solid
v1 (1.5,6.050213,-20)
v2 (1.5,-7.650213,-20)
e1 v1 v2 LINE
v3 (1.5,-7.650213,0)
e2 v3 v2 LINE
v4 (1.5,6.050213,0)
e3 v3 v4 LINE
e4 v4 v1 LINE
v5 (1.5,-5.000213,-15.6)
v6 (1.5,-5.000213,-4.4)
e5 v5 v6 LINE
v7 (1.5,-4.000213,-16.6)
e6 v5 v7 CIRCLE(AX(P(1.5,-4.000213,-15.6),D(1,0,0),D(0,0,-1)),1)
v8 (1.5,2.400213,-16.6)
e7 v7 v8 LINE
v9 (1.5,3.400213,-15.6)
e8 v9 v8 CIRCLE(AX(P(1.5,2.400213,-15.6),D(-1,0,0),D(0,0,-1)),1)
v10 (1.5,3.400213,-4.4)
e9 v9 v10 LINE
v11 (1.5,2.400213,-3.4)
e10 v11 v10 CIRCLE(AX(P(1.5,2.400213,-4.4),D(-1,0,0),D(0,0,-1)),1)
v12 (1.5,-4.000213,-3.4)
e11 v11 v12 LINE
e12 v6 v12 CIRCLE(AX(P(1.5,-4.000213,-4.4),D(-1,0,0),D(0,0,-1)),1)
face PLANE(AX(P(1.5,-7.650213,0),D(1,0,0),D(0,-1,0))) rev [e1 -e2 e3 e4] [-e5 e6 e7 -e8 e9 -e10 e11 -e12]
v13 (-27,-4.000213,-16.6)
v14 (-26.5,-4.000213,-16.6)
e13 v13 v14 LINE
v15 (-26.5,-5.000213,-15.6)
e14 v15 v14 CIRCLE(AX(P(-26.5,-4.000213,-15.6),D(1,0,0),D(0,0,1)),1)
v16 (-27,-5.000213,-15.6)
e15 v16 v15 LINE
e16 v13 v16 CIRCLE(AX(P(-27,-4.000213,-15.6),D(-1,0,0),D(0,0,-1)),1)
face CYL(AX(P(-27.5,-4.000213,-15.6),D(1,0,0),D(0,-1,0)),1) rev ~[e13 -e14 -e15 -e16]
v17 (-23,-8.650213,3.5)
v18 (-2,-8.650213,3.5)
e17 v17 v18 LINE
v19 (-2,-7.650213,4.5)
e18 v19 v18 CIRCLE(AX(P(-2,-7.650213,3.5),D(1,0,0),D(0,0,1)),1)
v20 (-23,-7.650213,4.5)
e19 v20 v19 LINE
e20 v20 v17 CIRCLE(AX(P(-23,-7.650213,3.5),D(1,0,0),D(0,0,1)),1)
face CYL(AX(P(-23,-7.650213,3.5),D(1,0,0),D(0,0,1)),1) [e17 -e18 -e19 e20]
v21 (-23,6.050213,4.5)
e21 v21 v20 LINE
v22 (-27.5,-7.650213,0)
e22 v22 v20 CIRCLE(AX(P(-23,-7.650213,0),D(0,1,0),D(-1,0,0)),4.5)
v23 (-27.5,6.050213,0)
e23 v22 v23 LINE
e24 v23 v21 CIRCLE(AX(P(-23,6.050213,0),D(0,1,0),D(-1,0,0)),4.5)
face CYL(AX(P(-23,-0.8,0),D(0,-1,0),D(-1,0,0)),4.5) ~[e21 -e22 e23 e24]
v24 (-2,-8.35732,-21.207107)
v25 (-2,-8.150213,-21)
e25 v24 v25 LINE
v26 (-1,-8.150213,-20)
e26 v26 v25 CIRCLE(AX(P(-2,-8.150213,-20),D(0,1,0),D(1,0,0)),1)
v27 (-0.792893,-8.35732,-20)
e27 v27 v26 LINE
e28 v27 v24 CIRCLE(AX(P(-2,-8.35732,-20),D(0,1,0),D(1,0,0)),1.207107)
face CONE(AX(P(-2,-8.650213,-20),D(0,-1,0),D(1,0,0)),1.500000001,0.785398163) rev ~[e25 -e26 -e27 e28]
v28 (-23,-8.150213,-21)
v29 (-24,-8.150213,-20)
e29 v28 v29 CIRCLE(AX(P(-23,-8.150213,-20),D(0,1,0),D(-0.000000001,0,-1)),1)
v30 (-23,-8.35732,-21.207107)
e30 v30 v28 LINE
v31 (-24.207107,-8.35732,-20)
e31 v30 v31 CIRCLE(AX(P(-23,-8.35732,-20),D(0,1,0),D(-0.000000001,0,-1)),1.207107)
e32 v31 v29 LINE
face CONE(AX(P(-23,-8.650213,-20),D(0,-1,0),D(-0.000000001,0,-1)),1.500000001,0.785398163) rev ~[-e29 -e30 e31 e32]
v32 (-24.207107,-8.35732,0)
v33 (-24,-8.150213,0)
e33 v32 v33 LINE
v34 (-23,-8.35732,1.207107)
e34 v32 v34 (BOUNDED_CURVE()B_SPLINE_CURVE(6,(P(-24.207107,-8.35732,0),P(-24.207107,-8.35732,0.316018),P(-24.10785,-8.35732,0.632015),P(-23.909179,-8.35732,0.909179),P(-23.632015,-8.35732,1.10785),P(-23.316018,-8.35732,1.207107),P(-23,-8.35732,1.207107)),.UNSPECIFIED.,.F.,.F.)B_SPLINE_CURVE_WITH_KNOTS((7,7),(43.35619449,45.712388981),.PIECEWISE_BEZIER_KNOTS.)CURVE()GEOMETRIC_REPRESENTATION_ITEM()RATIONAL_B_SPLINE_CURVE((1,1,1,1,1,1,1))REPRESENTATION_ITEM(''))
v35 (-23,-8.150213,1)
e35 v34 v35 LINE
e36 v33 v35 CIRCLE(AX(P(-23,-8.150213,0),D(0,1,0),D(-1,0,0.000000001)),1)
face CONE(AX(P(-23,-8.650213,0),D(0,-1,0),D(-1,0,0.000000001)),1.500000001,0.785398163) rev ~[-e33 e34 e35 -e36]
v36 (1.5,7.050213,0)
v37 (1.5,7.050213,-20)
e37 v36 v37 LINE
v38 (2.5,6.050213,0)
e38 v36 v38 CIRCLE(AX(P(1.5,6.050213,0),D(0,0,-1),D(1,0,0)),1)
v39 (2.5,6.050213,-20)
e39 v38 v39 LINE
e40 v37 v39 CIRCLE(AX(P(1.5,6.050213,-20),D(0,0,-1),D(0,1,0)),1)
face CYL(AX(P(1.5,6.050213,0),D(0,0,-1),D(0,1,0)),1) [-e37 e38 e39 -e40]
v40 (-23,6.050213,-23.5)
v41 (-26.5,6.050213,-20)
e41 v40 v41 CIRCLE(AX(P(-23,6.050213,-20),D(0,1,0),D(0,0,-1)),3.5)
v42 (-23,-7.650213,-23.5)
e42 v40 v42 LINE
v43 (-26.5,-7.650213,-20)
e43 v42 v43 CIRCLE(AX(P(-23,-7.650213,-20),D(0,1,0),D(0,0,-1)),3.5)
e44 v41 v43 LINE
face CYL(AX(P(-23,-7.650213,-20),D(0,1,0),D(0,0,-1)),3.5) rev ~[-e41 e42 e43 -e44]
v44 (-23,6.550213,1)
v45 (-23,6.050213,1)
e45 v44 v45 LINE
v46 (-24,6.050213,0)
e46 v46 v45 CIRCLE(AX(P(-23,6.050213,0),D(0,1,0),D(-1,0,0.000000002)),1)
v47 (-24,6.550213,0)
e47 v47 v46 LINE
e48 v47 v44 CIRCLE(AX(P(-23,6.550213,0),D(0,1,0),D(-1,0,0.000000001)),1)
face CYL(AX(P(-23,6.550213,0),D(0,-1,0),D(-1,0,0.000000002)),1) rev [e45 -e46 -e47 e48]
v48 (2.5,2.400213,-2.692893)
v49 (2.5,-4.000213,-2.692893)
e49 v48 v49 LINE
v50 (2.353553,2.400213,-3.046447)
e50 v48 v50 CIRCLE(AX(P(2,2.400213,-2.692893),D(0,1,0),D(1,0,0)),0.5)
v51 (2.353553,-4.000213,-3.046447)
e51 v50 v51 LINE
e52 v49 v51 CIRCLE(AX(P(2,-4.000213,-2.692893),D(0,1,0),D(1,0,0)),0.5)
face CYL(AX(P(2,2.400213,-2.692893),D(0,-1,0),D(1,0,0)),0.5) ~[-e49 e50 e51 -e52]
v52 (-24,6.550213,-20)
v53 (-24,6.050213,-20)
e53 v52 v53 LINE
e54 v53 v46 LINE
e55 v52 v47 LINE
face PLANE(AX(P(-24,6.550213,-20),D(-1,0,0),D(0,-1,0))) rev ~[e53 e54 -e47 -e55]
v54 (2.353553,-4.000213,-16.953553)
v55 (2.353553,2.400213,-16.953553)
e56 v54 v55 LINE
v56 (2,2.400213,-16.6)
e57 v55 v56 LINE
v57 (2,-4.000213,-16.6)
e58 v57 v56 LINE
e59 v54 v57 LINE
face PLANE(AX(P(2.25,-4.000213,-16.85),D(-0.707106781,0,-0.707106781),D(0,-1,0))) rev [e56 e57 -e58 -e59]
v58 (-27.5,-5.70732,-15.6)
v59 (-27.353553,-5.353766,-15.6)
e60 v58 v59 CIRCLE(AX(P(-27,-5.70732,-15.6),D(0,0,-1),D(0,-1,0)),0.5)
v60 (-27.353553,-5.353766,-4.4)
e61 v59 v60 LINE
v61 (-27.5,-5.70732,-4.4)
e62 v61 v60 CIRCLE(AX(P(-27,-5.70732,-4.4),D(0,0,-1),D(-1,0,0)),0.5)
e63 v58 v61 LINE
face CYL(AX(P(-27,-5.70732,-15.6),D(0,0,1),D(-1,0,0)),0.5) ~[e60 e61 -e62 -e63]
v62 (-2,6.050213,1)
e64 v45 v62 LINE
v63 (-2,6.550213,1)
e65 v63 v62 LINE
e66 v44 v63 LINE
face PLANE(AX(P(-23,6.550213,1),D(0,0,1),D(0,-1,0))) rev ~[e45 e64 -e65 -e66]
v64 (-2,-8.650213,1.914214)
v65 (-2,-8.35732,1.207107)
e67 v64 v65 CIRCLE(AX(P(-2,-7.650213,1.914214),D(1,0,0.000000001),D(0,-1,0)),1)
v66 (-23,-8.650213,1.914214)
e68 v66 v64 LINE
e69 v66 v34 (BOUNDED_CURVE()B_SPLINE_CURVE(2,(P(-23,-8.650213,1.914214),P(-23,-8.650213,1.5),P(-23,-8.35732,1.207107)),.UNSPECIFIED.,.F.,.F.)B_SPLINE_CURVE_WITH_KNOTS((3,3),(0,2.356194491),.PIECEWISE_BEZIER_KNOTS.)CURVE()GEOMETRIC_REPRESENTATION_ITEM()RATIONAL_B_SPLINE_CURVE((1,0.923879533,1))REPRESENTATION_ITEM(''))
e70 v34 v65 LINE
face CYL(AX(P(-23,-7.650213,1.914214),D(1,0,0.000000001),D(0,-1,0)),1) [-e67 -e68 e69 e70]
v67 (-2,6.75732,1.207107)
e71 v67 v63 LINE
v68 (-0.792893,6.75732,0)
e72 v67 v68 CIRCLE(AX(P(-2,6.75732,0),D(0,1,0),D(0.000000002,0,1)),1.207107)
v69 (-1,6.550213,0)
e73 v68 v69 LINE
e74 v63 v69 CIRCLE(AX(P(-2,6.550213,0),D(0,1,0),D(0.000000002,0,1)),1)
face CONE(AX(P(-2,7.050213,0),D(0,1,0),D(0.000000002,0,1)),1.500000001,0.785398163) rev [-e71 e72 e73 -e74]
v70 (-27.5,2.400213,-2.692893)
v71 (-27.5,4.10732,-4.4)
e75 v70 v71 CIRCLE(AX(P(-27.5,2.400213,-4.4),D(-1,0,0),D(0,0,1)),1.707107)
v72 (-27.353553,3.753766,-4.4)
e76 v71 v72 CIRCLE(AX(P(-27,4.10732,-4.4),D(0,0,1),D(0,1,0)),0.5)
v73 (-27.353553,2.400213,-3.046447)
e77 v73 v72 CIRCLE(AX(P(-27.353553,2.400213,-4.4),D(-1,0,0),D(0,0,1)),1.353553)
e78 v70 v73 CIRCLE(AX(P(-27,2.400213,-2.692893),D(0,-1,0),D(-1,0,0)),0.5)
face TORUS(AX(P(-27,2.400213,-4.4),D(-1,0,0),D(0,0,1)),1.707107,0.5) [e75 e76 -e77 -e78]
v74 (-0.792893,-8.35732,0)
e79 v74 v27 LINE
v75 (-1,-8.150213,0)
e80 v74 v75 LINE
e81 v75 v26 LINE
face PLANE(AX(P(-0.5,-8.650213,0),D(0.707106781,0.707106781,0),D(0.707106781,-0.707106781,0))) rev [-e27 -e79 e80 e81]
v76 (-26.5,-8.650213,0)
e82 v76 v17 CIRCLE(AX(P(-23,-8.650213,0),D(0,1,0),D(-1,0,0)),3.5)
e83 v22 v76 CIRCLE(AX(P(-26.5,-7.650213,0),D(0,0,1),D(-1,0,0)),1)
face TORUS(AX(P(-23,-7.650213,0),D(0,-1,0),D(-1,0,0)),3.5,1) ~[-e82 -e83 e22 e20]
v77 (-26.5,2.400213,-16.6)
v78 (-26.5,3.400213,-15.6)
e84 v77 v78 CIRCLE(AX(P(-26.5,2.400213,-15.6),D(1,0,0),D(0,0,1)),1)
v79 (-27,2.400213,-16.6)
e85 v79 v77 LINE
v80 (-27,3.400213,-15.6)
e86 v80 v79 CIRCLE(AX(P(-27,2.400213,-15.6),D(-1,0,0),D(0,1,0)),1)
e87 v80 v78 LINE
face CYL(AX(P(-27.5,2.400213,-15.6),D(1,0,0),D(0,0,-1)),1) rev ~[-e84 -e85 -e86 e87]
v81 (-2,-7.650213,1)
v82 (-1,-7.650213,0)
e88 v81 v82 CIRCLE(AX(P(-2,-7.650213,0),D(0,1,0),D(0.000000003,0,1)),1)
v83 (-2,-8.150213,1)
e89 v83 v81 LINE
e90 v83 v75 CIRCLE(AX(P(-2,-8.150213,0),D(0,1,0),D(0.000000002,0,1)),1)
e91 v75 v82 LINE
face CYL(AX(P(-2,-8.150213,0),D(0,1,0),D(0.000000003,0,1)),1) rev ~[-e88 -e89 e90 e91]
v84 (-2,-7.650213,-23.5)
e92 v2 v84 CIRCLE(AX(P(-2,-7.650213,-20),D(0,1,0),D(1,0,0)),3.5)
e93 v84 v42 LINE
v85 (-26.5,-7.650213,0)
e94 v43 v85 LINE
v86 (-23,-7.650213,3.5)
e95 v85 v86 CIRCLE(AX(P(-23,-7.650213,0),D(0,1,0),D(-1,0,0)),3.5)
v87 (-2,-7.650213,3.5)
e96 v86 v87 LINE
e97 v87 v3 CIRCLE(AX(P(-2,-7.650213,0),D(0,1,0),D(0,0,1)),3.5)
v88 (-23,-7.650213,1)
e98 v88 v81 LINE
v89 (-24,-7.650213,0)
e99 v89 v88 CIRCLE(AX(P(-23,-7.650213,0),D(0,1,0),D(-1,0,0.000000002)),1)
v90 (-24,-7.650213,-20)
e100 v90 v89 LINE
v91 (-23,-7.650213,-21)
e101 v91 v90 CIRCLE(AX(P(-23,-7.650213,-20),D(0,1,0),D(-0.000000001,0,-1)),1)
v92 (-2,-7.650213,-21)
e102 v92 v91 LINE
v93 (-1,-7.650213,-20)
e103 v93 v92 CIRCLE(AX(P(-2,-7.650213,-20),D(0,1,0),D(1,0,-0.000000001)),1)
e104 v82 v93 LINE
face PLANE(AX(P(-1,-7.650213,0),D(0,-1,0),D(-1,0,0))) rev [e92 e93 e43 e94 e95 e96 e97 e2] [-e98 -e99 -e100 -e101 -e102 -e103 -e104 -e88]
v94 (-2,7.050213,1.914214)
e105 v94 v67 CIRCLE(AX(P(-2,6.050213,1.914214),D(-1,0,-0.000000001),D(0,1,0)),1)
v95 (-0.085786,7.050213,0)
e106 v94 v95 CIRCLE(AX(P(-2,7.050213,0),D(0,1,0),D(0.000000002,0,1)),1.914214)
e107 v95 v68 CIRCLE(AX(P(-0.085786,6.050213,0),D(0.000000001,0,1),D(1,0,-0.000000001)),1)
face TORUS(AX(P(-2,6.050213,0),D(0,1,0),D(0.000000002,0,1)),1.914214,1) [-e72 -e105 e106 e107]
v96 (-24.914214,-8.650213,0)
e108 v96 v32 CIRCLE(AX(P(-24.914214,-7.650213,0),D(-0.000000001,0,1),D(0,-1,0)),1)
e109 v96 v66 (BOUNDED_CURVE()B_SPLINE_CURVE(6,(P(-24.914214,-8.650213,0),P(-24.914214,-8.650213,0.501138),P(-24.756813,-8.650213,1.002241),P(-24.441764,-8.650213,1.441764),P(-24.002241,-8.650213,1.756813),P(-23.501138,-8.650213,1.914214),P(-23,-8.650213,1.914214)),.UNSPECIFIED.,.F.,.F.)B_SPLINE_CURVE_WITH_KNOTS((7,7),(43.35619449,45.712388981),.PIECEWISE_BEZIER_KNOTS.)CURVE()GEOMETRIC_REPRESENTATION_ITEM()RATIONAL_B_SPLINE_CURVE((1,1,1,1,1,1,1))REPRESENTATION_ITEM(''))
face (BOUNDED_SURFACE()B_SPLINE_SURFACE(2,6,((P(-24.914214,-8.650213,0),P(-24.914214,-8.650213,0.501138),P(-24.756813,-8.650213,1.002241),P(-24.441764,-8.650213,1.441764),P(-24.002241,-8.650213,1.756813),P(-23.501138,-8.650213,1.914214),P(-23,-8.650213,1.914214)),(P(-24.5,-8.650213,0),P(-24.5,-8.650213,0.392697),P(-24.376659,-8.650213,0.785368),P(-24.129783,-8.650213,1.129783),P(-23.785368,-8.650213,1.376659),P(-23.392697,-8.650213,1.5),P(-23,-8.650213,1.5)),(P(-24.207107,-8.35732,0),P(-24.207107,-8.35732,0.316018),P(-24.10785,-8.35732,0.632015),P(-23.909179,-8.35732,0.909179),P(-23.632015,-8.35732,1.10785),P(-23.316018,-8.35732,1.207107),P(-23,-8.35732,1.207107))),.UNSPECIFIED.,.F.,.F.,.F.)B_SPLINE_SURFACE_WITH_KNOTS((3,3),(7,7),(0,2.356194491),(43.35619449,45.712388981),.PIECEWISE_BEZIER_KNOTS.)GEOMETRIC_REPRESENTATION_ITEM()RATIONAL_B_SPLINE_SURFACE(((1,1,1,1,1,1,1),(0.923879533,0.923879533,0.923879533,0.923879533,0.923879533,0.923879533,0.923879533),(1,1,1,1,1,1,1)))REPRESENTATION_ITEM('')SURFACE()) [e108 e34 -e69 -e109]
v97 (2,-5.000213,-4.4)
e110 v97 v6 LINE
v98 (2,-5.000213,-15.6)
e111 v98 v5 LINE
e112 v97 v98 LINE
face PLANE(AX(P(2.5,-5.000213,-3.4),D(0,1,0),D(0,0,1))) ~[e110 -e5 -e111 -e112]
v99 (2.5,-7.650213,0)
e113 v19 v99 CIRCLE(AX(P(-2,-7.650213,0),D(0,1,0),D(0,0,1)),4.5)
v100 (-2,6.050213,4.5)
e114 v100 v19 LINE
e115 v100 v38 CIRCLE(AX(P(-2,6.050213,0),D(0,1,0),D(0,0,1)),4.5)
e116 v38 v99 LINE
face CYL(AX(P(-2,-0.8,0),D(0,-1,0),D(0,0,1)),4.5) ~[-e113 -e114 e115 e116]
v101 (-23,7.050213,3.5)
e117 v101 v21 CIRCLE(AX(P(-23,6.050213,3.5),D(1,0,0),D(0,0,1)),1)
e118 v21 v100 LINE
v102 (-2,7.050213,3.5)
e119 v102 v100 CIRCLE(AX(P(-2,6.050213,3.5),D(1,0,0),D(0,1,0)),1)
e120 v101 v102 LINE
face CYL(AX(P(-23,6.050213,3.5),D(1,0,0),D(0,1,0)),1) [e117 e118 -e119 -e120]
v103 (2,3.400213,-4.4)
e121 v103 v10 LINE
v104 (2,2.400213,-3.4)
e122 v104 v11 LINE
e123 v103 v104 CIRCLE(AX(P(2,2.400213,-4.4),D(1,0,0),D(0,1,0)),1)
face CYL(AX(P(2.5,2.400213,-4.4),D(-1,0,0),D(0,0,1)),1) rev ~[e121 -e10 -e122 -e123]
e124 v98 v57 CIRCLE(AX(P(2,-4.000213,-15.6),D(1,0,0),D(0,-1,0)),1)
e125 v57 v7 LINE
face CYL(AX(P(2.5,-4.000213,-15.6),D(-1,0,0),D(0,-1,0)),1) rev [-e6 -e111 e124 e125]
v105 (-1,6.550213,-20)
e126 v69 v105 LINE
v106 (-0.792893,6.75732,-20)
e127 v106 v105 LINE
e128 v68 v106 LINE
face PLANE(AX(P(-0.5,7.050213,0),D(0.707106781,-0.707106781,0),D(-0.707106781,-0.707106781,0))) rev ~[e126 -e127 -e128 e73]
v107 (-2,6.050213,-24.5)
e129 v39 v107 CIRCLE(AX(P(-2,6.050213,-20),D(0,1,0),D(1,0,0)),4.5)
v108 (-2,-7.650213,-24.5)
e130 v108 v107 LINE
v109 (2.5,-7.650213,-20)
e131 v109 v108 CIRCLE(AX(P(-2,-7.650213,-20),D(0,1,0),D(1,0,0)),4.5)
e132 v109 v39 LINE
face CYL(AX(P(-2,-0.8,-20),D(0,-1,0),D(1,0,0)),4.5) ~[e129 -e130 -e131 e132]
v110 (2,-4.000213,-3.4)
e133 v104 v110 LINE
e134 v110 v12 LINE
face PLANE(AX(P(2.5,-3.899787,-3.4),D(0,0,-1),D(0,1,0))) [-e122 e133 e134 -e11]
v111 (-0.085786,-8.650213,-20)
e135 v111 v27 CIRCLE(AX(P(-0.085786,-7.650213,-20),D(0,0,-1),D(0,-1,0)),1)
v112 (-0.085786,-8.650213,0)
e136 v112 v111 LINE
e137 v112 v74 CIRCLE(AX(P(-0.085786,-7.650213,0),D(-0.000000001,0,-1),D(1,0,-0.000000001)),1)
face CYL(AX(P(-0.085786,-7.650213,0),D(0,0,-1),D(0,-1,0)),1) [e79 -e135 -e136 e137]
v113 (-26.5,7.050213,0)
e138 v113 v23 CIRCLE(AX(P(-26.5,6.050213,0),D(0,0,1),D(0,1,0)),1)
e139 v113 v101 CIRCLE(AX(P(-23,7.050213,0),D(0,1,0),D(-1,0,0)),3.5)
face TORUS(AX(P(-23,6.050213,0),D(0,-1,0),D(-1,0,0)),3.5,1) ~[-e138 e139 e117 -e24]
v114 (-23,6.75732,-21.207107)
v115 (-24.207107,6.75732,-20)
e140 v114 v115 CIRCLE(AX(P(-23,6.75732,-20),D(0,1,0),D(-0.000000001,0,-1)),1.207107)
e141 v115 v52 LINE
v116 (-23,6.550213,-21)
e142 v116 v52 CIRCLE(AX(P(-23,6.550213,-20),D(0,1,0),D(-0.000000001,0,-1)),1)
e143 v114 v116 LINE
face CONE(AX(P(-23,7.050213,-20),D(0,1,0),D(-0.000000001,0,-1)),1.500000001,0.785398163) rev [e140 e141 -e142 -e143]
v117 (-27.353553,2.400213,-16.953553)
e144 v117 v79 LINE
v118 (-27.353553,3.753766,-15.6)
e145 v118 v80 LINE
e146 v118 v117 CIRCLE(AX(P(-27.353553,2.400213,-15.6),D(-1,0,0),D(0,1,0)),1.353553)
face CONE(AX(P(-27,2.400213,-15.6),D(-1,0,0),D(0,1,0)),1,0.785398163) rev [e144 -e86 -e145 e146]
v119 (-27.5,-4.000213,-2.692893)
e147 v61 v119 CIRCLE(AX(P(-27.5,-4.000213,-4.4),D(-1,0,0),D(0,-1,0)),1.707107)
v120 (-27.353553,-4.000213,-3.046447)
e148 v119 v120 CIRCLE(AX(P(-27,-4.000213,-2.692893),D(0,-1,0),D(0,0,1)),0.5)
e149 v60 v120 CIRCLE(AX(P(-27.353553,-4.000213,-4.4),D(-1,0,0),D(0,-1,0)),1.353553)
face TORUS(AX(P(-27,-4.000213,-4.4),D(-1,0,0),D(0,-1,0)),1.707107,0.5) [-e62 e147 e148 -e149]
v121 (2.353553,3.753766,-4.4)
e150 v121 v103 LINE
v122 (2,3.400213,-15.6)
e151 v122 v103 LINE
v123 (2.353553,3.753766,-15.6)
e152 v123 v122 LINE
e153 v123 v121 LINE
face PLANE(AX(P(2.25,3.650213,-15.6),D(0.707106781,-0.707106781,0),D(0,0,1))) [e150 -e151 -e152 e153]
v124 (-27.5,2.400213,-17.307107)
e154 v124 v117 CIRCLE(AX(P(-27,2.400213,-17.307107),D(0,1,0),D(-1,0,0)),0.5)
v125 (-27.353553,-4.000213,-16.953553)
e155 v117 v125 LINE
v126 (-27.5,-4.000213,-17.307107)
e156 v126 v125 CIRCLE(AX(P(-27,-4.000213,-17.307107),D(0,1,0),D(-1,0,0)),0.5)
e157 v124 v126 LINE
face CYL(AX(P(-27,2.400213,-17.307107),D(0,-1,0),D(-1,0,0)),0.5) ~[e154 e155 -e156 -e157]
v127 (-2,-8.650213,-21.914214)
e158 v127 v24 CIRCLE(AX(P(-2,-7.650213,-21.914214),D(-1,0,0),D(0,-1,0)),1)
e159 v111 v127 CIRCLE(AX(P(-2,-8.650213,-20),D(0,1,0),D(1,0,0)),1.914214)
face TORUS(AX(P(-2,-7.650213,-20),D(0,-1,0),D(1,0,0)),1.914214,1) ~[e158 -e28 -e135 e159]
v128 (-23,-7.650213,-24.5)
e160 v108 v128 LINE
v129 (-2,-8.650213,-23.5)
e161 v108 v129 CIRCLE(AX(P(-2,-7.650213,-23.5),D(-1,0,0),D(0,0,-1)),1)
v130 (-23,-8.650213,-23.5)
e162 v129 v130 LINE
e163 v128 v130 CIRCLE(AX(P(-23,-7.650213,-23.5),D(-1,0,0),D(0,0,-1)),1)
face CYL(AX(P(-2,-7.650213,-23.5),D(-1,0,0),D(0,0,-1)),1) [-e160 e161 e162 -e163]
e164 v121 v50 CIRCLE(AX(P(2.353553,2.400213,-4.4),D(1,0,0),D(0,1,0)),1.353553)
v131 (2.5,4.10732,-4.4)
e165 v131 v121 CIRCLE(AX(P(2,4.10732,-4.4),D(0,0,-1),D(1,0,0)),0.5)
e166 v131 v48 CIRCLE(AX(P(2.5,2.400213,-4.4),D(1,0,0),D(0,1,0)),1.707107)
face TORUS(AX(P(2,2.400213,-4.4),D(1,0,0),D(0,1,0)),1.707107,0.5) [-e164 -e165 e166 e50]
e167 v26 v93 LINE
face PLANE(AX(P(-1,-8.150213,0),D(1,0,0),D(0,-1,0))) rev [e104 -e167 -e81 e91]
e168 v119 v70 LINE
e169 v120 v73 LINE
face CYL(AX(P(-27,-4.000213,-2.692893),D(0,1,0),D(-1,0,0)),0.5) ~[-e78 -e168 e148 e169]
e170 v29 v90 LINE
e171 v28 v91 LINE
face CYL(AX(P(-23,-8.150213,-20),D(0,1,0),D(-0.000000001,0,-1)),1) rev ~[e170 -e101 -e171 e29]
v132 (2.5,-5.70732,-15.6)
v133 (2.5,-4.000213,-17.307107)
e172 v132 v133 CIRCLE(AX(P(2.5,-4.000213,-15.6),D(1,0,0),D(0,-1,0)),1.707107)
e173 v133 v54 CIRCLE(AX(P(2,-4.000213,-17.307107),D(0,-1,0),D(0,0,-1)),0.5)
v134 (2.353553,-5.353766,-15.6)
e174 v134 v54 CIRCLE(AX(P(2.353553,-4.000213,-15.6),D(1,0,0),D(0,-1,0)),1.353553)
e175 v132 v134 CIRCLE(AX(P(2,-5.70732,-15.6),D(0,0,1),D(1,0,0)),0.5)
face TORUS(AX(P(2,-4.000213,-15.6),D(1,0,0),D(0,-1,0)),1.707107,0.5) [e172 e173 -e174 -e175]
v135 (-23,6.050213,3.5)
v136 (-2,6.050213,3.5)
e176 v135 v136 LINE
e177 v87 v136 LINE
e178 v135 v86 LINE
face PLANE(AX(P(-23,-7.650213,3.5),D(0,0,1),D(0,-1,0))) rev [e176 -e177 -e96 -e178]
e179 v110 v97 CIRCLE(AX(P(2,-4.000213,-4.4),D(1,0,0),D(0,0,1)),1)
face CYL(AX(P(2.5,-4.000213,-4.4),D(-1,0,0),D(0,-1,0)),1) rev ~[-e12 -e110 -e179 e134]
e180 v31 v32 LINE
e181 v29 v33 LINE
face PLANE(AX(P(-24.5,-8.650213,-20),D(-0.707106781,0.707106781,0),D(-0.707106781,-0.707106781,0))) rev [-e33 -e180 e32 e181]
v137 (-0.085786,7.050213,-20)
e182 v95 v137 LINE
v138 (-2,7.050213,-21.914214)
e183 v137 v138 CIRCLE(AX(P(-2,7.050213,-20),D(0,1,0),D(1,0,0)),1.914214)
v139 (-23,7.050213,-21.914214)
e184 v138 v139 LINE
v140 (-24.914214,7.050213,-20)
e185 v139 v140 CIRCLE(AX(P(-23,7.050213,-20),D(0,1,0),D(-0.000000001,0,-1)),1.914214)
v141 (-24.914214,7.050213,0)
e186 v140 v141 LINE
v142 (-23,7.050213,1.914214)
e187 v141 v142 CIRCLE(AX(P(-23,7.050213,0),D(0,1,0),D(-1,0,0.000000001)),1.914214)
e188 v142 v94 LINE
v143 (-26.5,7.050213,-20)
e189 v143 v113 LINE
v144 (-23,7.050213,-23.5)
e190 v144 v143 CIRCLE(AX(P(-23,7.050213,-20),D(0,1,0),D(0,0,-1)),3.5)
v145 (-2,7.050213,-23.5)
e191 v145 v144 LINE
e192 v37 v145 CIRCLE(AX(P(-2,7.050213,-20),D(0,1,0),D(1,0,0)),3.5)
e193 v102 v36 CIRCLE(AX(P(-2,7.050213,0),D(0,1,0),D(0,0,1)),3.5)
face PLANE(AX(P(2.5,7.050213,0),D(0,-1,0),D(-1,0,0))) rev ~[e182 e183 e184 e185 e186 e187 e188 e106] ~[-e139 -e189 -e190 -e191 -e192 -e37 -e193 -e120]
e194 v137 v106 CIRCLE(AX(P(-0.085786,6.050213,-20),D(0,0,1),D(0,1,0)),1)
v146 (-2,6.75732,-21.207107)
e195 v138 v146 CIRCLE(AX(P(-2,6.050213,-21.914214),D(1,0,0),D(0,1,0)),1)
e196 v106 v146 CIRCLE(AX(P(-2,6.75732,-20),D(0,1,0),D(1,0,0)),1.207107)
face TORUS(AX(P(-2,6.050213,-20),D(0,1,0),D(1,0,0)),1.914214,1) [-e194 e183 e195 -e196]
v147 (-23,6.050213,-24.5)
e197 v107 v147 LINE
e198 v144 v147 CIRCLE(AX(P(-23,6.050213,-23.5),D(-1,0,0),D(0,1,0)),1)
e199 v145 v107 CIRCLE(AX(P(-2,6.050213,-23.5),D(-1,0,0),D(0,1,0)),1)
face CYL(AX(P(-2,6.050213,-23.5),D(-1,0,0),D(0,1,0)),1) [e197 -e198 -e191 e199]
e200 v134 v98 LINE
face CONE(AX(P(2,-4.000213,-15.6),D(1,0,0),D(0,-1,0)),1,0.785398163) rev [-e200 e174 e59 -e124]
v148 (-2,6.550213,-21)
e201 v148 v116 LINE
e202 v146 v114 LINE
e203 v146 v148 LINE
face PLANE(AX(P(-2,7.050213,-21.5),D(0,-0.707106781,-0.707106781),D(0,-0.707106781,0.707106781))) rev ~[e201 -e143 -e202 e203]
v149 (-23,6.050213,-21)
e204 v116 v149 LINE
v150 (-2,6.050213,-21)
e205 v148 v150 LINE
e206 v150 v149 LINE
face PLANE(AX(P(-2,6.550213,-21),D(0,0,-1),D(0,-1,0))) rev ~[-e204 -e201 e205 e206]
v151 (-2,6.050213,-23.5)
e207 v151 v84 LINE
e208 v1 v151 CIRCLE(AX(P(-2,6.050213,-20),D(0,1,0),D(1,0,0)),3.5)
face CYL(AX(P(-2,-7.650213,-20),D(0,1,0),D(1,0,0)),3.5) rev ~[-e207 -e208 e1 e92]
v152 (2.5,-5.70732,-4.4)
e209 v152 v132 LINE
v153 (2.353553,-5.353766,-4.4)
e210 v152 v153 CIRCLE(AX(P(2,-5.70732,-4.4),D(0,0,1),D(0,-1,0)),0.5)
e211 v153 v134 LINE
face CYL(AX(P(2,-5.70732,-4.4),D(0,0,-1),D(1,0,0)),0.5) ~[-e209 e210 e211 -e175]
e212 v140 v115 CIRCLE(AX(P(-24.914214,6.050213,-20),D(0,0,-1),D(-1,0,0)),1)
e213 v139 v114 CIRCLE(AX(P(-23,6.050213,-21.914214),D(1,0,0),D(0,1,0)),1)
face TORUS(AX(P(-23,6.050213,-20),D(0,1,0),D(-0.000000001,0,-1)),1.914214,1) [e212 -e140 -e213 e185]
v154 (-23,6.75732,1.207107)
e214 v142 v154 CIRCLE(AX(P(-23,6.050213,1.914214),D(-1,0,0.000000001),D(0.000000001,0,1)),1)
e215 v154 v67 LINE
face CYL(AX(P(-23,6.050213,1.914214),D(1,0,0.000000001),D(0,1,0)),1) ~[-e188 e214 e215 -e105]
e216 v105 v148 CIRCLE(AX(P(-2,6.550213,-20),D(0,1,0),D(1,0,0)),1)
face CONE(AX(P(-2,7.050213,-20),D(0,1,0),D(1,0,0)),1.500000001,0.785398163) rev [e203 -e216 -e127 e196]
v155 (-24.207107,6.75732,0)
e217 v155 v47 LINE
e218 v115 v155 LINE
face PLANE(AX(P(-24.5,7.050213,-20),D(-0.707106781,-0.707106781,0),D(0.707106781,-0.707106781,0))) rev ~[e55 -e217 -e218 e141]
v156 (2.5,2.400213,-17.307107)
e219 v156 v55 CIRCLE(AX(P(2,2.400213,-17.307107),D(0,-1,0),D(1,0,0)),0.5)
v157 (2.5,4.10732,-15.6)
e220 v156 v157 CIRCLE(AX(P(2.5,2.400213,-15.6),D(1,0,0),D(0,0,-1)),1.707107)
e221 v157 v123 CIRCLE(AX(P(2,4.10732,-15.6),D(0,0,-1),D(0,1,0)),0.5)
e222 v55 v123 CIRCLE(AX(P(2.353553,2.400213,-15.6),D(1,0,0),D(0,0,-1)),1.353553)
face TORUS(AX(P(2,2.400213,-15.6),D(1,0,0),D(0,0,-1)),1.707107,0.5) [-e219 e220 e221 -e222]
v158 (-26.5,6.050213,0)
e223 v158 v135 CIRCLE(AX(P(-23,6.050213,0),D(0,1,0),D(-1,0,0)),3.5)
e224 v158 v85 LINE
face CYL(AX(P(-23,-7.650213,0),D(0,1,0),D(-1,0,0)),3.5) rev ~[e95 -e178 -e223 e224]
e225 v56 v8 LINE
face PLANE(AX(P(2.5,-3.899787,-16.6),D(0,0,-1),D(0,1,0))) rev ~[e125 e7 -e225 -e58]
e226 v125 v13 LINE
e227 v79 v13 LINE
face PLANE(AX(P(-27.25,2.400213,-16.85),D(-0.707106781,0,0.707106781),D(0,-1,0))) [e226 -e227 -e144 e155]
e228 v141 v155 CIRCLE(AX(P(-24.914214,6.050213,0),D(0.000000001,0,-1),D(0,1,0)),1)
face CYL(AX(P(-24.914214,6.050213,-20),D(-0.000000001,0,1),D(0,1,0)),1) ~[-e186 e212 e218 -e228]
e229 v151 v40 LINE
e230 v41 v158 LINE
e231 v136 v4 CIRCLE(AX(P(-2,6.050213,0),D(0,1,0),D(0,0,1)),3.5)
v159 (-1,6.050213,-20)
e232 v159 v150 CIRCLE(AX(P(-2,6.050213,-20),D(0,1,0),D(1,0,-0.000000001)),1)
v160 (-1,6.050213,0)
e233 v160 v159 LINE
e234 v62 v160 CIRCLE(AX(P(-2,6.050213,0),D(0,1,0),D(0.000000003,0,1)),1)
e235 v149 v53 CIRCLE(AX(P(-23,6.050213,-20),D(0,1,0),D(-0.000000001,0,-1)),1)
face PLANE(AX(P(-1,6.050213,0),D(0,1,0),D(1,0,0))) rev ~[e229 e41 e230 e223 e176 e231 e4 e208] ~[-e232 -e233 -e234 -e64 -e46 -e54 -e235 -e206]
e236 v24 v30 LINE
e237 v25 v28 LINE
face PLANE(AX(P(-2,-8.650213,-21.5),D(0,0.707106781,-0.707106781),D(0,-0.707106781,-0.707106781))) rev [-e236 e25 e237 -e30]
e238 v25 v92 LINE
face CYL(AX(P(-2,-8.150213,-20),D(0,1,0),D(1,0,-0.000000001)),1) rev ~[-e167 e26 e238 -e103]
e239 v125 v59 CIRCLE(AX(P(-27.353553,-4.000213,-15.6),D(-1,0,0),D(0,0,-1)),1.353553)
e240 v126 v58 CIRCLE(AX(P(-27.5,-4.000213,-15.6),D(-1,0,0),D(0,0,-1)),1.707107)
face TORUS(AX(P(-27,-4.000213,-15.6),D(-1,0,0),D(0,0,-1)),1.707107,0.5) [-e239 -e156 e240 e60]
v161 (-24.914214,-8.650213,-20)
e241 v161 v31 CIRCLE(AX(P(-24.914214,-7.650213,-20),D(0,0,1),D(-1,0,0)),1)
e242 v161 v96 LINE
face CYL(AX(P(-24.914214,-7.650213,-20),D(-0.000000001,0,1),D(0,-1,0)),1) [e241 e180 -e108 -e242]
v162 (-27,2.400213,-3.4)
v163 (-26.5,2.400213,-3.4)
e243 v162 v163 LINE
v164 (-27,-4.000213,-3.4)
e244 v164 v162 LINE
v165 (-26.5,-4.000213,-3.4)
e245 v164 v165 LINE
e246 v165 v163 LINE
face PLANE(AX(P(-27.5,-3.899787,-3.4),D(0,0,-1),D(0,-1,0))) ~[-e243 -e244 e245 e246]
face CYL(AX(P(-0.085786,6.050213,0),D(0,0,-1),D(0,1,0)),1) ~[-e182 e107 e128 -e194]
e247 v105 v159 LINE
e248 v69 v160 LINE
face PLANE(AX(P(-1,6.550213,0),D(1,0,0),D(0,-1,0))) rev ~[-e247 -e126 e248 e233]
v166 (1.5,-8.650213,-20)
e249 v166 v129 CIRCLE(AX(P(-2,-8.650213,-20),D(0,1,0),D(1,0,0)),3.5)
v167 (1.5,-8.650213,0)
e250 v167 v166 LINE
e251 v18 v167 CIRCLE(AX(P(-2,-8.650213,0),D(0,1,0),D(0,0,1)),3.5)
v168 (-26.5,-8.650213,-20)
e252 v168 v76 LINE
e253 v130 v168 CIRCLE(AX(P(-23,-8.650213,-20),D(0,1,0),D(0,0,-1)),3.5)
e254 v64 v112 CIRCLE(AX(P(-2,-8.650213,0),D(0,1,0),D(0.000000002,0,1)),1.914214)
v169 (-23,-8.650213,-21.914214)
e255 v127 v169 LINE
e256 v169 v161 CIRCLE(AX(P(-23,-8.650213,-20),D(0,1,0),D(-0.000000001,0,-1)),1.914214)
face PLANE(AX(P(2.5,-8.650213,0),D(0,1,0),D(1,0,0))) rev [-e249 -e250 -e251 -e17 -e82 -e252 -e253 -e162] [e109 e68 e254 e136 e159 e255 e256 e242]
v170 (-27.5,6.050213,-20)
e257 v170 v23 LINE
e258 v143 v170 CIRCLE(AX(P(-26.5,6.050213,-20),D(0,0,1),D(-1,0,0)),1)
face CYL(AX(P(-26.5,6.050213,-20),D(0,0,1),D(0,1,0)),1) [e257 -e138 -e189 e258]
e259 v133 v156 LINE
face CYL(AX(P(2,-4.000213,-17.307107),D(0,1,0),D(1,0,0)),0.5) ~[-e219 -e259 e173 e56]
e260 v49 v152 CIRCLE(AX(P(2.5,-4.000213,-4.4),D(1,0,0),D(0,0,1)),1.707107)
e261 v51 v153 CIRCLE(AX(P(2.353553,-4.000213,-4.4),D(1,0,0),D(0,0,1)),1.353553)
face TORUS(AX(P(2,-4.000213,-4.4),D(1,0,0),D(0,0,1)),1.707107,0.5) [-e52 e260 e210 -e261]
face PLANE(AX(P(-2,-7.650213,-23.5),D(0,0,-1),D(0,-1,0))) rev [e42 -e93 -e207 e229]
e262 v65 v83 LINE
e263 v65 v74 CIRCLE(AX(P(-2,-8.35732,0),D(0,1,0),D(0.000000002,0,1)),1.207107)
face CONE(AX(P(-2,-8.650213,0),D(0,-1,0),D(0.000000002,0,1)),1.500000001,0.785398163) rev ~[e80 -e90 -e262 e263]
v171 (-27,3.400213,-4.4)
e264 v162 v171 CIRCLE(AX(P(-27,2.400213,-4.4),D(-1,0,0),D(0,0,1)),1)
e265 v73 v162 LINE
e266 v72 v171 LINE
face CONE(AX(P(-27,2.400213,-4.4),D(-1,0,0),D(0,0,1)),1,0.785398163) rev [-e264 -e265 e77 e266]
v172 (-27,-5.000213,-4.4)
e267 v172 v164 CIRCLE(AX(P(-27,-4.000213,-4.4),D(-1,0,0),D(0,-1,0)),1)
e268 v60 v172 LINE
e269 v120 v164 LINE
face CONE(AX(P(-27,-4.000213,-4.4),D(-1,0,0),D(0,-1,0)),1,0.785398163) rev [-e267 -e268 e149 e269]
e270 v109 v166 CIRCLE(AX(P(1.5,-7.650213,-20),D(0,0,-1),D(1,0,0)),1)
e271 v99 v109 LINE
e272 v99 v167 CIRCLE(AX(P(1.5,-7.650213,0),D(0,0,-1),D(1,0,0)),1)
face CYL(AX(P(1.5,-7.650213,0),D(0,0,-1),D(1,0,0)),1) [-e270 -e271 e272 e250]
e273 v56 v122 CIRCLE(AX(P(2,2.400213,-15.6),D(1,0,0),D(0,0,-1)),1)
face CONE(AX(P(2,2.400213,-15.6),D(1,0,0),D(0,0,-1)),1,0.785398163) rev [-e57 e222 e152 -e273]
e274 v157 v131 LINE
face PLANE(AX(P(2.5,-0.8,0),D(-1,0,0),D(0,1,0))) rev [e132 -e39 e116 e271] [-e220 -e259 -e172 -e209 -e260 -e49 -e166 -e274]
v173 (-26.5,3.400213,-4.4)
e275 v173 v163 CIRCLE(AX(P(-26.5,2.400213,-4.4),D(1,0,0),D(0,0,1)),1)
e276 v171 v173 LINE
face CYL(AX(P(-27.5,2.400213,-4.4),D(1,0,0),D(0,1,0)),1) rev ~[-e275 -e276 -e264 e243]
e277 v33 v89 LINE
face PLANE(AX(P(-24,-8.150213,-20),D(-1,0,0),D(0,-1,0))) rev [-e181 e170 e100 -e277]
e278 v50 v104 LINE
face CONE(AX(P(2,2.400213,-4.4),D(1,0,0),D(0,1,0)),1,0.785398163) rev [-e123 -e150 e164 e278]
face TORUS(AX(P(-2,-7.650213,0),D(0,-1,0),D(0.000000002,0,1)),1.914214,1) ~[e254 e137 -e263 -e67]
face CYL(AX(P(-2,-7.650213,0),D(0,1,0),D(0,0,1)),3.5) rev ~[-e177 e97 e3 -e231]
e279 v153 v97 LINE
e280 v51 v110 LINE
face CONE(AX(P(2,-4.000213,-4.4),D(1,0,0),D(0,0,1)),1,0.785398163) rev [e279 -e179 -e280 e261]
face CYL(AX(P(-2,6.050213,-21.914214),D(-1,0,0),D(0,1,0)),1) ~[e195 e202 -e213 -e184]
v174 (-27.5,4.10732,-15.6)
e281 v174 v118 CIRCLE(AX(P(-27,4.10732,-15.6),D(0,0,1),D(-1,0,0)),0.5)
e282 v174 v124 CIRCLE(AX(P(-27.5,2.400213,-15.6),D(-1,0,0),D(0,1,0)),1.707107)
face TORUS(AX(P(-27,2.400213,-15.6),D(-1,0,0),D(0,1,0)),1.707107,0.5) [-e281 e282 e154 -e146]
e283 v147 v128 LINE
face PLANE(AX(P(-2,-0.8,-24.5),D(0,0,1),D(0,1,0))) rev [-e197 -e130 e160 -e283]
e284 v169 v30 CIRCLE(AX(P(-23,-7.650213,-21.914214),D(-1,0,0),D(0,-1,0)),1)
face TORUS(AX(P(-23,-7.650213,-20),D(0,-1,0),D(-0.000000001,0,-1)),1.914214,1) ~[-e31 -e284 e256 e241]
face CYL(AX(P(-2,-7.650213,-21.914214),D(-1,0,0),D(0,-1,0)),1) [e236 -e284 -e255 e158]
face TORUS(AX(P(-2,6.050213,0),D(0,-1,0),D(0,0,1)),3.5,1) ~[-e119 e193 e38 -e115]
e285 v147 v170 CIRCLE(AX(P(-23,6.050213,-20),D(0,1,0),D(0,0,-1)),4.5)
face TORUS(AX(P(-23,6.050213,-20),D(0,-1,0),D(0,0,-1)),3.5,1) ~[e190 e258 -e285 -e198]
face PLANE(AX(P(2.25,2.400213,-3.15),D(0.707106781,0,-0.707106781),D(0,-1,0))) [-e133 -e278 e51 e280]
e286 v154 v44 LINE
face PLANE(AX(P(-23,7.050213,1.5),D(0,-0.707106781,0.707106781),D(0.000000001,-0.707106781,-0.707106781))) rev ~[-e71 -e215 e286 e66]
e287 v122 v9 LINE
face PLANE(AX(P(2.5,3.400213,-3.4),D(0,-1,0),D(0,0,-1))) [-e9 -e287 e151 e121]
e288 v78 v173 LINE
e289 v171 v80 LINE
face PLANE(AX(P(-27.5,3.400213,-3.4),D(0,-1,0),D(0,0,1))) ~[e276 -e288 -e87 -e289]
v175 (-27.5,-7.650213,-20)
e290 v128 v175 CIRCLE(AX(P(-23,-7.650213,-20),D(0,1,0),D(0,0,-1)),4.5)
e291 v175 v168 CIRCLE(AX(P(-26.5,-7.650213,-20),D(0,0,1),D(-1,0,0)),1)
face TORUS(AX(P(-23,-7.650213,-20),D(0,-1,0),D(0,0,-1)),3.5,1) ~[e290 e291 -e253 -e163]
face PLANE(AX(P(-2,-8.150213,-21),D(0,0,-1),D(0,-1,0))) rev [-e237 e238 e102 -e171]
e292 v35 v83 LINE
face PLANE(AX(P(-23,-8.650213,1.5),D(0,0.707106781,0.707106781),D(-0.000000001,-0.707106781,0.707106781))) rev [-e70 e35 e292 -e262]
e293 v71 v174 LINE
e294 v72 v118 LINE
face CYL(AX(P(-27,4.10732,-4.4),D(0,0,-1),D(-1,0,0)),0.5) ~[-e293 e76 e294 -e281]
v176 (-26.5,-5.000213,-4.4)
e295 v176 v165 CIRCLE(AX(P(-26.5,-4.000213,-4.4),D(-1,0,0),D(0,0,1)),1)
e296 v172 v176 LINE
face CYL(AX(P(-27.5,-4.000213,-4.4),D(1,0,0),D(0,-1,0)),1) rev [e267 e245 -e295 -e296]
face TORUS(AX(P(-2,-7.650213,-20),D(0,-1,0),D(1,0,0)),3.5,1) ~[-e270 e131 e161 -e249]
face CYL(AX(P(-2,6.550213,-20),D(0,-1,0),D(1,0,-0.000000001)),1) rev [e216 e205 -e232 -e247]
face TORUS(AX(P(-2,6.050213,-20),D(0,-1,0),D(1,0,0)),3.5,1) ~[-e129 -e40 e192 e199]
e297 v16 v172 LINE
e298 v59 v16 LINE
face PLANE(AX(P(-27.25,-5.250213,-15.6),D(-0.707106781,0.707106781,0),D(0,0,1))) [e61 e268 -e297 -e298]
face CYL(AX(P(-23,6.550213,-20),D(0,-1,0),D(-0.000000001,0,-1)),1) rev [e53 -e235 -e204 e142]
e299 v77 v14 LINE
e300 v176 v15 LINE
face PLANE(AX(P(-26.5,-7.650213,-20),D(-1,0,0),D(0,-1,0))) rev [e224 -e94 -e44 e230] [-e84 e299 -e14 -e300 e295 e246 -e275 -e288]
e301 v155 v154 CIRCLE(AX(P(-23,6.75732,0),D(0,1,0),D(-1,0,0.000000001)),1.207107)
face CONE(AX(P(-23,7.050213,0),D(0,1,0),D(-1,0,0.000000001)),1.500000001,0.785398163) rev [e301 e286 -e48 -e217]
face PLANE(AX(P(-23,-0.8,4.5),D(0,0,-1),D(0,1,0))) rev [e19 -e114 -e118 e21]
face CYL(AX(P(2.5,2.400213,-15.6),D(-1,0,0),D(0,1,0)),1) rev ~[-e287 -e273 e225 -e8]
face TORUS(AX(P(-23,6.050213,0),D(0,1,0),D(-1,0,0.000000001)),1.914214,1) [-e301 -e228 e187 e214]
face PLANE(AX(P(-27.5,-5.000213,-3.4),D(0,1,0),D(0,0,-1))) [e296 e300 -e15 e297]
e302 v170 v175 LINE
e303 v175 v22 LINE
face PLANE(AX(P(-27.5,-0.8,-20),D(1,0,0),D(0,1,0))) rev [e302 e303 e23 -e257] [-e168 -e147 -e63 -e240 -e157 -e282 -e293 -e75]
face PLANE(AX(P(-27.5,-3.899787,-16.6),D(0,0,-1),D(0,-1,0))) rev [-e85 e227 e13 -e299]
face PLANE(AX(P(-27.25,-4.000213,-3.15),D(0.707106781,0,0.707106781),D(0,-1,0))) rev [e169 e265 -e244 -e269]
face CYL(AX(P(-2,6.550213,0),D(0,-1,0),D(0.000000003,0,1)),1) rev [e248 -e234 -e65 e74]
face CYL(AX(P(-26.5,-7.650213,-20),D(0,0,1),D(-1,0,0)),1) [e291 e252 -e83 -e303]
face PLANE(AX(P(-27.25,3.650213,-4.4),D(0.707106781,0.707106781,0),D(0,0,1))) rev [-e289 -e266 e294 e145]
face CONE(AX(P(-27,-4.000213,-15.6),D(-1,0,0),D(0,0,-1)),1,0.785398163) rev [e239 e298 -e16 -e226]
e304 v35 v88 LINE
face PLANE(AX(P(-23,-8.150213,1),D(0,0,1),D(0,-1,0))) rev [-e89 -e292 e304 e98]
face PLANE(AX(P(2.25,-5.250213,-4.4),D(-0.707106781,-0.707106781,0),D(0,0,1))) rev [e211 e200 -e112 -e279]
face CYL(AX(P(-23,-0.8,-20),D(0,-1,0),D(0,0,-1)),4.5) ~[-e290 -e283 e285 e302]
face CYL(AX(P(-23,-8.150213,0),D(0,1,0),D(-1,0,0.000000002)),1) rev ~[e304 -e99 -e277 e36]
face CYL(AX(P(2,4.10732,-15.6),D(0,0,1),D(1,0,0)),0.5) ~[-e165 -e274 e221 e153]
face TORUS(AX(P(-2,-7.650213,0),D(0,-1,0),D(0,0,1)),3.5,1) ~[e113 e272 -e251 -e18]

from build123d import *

# Parameters (mm, degrees)
FILLET6_TOP_FACE_R                     = 1
CUT_EXTRUDE1_SIDE_APERTURE_REACH       = 41.369
SKETCH3_W                              = 13.2
SKETCH3_H                              = 7.3
MIRROR11_COPY_1_REACH                  = 41.369
MIRROR11_COPY_1_SKETCH_W               = 13.2
MIRROR11_COPY_1_SKETCH_H               = 7.3
FILLET6_TOP_FACE_OF_MIRROR11_R         = 1
FILLET4_SIDE_APERTURE_INSIDE_CORNERS_R = 1
CHAMFER1_SIDE_APERTURE_SIZE            = 0.5
FILLET5_SIDE_APERTURE_R                = 0.5


with BuildPart() as part:
    # Sweep1: sweep along a path in Sketch2
    with BuildLine(Plane(origin=(0, 5.050213041, 0), x_dir=(1, 0, 0), z_dir=(0, 1, 0))) as sweep1_path:
        Line((1.5, 0), (1.5, 20))
        ThreePointArc((1.5, 20), (0.474873734, 22.474873734), (-2, 23.5))
        Line((-2, 23.5), (-23, 23.5))
        ThreePointArc((-23, 23.5), (-25.474873734, 22.474873734), (-26.5, 20))
        Line((-26.5, 20), (-26.5, 0))
        ThreePointArc((-26.5, 0), (-25.474873734, -2.474873734), (-23, -3.5))
        Line((-23, -3.5), (-2, -3.5))
        ThreePointArc((-2, -3.5), (0.474873734, -2.474873734), (1.5, 0))
    # Sketch1 → Sweep1 (sweep)
    with BuildSketch(Plane.XY):
        Polygon((1.5, 6.050213041), (1.5, -0.8), (2.5, -0.8), (2.5, 7.050213041), (-0.5, 7.050213041), (-1, 6.550213041), (-1, 6.050213041), align=None)
    sweep1 = sweep(path=sweep1_path.line)

    # Fillet6 (top face)
    fillet6_top_face_edges = [part.edges().sort_by_distance(p)[0] for p in [
        (-12.5, 7.050213041, -24.5),
        (-12.5, 7.050213041, -21.5),
        (-26.181980515, 7.050213041, -23.181980515),
        (-24.060660172, 7.050213041, -21.060660172),
        (-27.5, 7.050213041, -10),
        (-24.5, 7.050213041, -10),
        (-26.181980515, 7.050213041, 3.181980515),
        (-24.060660172, 7.050213041, 1.060660172),
        (-12.5, 7.050213041, 4.5),
        (-12.5, 7.050213041, 1.5),
        (1.181980515, 7.050213041, 3.181980515),
        (-0.939339828, 7.050213041, 1.060660172),
        (2.5, 7.050213041, -10),
        (-0.5, 7.050213041, -10),
        (1.181980515, 7.050213041, -23.181980515),
        (-0.939339828, 7.050213041, -21.060660172),
    ]]
    fillet(fillet6_top_face_edges, radius=FILLET6_TOP_FACE_R)

    # Sketch3 → Cut-Extrude1 (side aperture) (cut, up to next)
    with BuildSketch(Plane(origin=(2.5, 0, 0), x_dir=(0, 0, -1), z_dir=(1, 0, 0)), mode=Mode.PRIVATE) as cut_extrude1_side_aperture_sk1:
        with Locations((10, -0.249786959)):
            Rectangle(SKETCH3_W, SKETCH3_H)
    cut_extrude1_side_aperture_tool1 = extrude(cut_extrude1_side_aperture_sk1.sketch, amount=-CUT_EXTRUDE1_SIDE_APERTURE_REACH, mode=Mode.PRIVATE) & part.part
    cut_extrude1_side_aperture = cut_extrude1_side_aperture_tool1.solids().sort_by_distance((2.5, -0.249787, -10))[0]
    add(cut_extrude1_side_aperture, mode=Mode.SUBTRACT)

    # Mirror6: Cut-Extrude1 (side aperture) across plane
    add(cut_extrude1_side_aperture.mirror(Plane.ZY.offset(12.5)), mode=Mode.SUBTRACT)

    # Mirror11: Sweep1, Cut-Extrude1 (side aperture) across plane
    add(sweep1.mirror(Plane.ZX.offset(-0.8)))
    add(cut_extrude1_side_aperture.mirror(Plane.ZX.offset(-0.8)), mode=Mode.SUBTRACT)

    # Mirror11 copy 1 sketch → Mirror11 copy 1 (cut, up to next)
    with BuildSketch(Plane(origin=(-27.5, -1.6, 0), x_dir=(0, 0, -1), z_dir=(-1, 0, 0)), mode=Mode.PRIVATE) as mirror11_copy_1_sk1:
        with Locations((10, -0.249786959)):
            Rectangle(MIRROR11_COPY_1_SKETCH_W, MIRROR11_COPY_1_SKETCH_H)
    mirror11_copy_1_tool1 = extrude(mirror11_copy_1_sk1.sketch, amount=-MIRROR11_COPY_1_REACH, mode=Mode.PRIVATE) & part.part
    add(mirror11_copy_1_tool1.solids().sort_by_distance((-27.5, -1.350213, -10))[0], mode=Mode.SUBTRACT)

    # Fillet6 (top face) of Mirror11
    fillet6_top_face_of_mirror11_edges = [part.edges().sort_by_distance(p)[0] for p in [
        (-12.5, -8.650213041, -24.5),
        (-12.5, -8.650213041, -21.5),
        (-26.181980515, -8.650213041, -23.181980515),
        (-24.060660172, -8.650213041, -21.060660172),
        (-27.5, -8.650213041, -10),
        (-24.5, -8.650213041, -10),
        (-26.181980515, -8.650213041, 3.181980515),
        (-24.060660172, -8.650213041, 1.060660172),
        (-12.5, -8.650213041, 4.5),
        (-12.5, -8.650213041, 1.5),
        (1.181980515, -8.650213041, 3.181980515),
        (-0.939339828, -8.650213041, 1.060660172),
        (2.5, -8.650213041, -10),
        (-0.5, -8.650213041, -10),
        (1.181980515, -8.650213041, -23.181980515),
        (-0.939339828, -8.650213041, -21.060660172),
    ]]
    fillet(fillet6_top_face_of_mirror11_edges, radius=FILLET6_TOP_FACE_OF_MIRROR11_R)

    # Fillet4 (side aperture inside corners)
    fillet4_side_aperture_inside_corners_edges = [part.edges().sort_by_distance(p)[0] for p in [
        (2, 3.400213041, -16.6),
        (2, 3.400213041, -3.4),
        (-27, 3.400213041, -16.6),
        (-27, 3.400213041, -3.4),
        (2, -5.000213041, -3.4),
        (2, -5.000213041, -16.6),
        (-27, -5.000213041, -3.4),
        (-27, -5.000213041, -16.6),
    ]]
    fillet(fillet4_side_aperture_inside_corners_edges, radius=FILLET4_SIDE_APERTURE_INSIDE_CORNERS_R)

    # Chamfer1 (side aperture)
    chamfer1_side_aperture_edges = [part.edges().sort_by_distance(p)[0] for p in [
        (-27.5, -0.8, -16.6),
        (-27.5, 3.400213041, -10),
        (-27.5, -5.000213041, -10),
        (-27.5, -0.8, -3.4),
        (2.5, -5.000213041, -10),
        (2.5, -0.8, -3.4),
        (2.5, -0.8, -16.6),
        (2.5, 3.400213041, -10),
        (-27.5, 3.107319822, -16.307106781),
        (-27.5, -4.707319822, -16.307106781),
        (-27.5, 3.107319822, -3.692893219),
        (-27.5, -4.707319822, -3.692893219),
        (2.5, -4.707319822, -3.692893219),
        (2.5, -4.707319822, -16.307106781),
        (2.5, 3.107319822, -3.692893219),
        (2.5, 3.107319822, -16.307106781),
    ]]
    chamfer(chamfer1_side_aperture_edges, length=CHAMFER1_SIDE_APERTURE_SIZE)

    # Fillet5 (side aperture)
    fillet5_side_aperture_edges = [part.edges().sort_by_distance(p)[0] for p in [
        (-27.5, -0.8, -17.1),
        (-27.5, 3.460873213, -16.660660172),
        (-27.5, -5.060873213, -16.660660172),
        (-27.5, 3.900213041, -10),
        (-27.5, -5.500213041, -10),
        (-27.5, 3.460873213, -3.339339828),
        (-27.5, -5.060873213, -3.339339828),
        (-27.5, -0.8, -2.9),
        (2.5, -0.8, -2.9),
        (2.5, 3.460873213, -3.339339828),
        (2.5, 3.900213041, -10),
        (2.5, 3.460873213, -16.660660172),
        (2.5, -0.8, -17.1),
        (2.5, -5.060873213, -3.339339828),
        (2.5, -5.060873213, -16.660660172),
        (2.5, -5.500213041, -10),
    ]]
    fillet(fillet5_side_aperture_edges, radius=FILLET5_SIDE_APERTURE_R)


solid = part.part
